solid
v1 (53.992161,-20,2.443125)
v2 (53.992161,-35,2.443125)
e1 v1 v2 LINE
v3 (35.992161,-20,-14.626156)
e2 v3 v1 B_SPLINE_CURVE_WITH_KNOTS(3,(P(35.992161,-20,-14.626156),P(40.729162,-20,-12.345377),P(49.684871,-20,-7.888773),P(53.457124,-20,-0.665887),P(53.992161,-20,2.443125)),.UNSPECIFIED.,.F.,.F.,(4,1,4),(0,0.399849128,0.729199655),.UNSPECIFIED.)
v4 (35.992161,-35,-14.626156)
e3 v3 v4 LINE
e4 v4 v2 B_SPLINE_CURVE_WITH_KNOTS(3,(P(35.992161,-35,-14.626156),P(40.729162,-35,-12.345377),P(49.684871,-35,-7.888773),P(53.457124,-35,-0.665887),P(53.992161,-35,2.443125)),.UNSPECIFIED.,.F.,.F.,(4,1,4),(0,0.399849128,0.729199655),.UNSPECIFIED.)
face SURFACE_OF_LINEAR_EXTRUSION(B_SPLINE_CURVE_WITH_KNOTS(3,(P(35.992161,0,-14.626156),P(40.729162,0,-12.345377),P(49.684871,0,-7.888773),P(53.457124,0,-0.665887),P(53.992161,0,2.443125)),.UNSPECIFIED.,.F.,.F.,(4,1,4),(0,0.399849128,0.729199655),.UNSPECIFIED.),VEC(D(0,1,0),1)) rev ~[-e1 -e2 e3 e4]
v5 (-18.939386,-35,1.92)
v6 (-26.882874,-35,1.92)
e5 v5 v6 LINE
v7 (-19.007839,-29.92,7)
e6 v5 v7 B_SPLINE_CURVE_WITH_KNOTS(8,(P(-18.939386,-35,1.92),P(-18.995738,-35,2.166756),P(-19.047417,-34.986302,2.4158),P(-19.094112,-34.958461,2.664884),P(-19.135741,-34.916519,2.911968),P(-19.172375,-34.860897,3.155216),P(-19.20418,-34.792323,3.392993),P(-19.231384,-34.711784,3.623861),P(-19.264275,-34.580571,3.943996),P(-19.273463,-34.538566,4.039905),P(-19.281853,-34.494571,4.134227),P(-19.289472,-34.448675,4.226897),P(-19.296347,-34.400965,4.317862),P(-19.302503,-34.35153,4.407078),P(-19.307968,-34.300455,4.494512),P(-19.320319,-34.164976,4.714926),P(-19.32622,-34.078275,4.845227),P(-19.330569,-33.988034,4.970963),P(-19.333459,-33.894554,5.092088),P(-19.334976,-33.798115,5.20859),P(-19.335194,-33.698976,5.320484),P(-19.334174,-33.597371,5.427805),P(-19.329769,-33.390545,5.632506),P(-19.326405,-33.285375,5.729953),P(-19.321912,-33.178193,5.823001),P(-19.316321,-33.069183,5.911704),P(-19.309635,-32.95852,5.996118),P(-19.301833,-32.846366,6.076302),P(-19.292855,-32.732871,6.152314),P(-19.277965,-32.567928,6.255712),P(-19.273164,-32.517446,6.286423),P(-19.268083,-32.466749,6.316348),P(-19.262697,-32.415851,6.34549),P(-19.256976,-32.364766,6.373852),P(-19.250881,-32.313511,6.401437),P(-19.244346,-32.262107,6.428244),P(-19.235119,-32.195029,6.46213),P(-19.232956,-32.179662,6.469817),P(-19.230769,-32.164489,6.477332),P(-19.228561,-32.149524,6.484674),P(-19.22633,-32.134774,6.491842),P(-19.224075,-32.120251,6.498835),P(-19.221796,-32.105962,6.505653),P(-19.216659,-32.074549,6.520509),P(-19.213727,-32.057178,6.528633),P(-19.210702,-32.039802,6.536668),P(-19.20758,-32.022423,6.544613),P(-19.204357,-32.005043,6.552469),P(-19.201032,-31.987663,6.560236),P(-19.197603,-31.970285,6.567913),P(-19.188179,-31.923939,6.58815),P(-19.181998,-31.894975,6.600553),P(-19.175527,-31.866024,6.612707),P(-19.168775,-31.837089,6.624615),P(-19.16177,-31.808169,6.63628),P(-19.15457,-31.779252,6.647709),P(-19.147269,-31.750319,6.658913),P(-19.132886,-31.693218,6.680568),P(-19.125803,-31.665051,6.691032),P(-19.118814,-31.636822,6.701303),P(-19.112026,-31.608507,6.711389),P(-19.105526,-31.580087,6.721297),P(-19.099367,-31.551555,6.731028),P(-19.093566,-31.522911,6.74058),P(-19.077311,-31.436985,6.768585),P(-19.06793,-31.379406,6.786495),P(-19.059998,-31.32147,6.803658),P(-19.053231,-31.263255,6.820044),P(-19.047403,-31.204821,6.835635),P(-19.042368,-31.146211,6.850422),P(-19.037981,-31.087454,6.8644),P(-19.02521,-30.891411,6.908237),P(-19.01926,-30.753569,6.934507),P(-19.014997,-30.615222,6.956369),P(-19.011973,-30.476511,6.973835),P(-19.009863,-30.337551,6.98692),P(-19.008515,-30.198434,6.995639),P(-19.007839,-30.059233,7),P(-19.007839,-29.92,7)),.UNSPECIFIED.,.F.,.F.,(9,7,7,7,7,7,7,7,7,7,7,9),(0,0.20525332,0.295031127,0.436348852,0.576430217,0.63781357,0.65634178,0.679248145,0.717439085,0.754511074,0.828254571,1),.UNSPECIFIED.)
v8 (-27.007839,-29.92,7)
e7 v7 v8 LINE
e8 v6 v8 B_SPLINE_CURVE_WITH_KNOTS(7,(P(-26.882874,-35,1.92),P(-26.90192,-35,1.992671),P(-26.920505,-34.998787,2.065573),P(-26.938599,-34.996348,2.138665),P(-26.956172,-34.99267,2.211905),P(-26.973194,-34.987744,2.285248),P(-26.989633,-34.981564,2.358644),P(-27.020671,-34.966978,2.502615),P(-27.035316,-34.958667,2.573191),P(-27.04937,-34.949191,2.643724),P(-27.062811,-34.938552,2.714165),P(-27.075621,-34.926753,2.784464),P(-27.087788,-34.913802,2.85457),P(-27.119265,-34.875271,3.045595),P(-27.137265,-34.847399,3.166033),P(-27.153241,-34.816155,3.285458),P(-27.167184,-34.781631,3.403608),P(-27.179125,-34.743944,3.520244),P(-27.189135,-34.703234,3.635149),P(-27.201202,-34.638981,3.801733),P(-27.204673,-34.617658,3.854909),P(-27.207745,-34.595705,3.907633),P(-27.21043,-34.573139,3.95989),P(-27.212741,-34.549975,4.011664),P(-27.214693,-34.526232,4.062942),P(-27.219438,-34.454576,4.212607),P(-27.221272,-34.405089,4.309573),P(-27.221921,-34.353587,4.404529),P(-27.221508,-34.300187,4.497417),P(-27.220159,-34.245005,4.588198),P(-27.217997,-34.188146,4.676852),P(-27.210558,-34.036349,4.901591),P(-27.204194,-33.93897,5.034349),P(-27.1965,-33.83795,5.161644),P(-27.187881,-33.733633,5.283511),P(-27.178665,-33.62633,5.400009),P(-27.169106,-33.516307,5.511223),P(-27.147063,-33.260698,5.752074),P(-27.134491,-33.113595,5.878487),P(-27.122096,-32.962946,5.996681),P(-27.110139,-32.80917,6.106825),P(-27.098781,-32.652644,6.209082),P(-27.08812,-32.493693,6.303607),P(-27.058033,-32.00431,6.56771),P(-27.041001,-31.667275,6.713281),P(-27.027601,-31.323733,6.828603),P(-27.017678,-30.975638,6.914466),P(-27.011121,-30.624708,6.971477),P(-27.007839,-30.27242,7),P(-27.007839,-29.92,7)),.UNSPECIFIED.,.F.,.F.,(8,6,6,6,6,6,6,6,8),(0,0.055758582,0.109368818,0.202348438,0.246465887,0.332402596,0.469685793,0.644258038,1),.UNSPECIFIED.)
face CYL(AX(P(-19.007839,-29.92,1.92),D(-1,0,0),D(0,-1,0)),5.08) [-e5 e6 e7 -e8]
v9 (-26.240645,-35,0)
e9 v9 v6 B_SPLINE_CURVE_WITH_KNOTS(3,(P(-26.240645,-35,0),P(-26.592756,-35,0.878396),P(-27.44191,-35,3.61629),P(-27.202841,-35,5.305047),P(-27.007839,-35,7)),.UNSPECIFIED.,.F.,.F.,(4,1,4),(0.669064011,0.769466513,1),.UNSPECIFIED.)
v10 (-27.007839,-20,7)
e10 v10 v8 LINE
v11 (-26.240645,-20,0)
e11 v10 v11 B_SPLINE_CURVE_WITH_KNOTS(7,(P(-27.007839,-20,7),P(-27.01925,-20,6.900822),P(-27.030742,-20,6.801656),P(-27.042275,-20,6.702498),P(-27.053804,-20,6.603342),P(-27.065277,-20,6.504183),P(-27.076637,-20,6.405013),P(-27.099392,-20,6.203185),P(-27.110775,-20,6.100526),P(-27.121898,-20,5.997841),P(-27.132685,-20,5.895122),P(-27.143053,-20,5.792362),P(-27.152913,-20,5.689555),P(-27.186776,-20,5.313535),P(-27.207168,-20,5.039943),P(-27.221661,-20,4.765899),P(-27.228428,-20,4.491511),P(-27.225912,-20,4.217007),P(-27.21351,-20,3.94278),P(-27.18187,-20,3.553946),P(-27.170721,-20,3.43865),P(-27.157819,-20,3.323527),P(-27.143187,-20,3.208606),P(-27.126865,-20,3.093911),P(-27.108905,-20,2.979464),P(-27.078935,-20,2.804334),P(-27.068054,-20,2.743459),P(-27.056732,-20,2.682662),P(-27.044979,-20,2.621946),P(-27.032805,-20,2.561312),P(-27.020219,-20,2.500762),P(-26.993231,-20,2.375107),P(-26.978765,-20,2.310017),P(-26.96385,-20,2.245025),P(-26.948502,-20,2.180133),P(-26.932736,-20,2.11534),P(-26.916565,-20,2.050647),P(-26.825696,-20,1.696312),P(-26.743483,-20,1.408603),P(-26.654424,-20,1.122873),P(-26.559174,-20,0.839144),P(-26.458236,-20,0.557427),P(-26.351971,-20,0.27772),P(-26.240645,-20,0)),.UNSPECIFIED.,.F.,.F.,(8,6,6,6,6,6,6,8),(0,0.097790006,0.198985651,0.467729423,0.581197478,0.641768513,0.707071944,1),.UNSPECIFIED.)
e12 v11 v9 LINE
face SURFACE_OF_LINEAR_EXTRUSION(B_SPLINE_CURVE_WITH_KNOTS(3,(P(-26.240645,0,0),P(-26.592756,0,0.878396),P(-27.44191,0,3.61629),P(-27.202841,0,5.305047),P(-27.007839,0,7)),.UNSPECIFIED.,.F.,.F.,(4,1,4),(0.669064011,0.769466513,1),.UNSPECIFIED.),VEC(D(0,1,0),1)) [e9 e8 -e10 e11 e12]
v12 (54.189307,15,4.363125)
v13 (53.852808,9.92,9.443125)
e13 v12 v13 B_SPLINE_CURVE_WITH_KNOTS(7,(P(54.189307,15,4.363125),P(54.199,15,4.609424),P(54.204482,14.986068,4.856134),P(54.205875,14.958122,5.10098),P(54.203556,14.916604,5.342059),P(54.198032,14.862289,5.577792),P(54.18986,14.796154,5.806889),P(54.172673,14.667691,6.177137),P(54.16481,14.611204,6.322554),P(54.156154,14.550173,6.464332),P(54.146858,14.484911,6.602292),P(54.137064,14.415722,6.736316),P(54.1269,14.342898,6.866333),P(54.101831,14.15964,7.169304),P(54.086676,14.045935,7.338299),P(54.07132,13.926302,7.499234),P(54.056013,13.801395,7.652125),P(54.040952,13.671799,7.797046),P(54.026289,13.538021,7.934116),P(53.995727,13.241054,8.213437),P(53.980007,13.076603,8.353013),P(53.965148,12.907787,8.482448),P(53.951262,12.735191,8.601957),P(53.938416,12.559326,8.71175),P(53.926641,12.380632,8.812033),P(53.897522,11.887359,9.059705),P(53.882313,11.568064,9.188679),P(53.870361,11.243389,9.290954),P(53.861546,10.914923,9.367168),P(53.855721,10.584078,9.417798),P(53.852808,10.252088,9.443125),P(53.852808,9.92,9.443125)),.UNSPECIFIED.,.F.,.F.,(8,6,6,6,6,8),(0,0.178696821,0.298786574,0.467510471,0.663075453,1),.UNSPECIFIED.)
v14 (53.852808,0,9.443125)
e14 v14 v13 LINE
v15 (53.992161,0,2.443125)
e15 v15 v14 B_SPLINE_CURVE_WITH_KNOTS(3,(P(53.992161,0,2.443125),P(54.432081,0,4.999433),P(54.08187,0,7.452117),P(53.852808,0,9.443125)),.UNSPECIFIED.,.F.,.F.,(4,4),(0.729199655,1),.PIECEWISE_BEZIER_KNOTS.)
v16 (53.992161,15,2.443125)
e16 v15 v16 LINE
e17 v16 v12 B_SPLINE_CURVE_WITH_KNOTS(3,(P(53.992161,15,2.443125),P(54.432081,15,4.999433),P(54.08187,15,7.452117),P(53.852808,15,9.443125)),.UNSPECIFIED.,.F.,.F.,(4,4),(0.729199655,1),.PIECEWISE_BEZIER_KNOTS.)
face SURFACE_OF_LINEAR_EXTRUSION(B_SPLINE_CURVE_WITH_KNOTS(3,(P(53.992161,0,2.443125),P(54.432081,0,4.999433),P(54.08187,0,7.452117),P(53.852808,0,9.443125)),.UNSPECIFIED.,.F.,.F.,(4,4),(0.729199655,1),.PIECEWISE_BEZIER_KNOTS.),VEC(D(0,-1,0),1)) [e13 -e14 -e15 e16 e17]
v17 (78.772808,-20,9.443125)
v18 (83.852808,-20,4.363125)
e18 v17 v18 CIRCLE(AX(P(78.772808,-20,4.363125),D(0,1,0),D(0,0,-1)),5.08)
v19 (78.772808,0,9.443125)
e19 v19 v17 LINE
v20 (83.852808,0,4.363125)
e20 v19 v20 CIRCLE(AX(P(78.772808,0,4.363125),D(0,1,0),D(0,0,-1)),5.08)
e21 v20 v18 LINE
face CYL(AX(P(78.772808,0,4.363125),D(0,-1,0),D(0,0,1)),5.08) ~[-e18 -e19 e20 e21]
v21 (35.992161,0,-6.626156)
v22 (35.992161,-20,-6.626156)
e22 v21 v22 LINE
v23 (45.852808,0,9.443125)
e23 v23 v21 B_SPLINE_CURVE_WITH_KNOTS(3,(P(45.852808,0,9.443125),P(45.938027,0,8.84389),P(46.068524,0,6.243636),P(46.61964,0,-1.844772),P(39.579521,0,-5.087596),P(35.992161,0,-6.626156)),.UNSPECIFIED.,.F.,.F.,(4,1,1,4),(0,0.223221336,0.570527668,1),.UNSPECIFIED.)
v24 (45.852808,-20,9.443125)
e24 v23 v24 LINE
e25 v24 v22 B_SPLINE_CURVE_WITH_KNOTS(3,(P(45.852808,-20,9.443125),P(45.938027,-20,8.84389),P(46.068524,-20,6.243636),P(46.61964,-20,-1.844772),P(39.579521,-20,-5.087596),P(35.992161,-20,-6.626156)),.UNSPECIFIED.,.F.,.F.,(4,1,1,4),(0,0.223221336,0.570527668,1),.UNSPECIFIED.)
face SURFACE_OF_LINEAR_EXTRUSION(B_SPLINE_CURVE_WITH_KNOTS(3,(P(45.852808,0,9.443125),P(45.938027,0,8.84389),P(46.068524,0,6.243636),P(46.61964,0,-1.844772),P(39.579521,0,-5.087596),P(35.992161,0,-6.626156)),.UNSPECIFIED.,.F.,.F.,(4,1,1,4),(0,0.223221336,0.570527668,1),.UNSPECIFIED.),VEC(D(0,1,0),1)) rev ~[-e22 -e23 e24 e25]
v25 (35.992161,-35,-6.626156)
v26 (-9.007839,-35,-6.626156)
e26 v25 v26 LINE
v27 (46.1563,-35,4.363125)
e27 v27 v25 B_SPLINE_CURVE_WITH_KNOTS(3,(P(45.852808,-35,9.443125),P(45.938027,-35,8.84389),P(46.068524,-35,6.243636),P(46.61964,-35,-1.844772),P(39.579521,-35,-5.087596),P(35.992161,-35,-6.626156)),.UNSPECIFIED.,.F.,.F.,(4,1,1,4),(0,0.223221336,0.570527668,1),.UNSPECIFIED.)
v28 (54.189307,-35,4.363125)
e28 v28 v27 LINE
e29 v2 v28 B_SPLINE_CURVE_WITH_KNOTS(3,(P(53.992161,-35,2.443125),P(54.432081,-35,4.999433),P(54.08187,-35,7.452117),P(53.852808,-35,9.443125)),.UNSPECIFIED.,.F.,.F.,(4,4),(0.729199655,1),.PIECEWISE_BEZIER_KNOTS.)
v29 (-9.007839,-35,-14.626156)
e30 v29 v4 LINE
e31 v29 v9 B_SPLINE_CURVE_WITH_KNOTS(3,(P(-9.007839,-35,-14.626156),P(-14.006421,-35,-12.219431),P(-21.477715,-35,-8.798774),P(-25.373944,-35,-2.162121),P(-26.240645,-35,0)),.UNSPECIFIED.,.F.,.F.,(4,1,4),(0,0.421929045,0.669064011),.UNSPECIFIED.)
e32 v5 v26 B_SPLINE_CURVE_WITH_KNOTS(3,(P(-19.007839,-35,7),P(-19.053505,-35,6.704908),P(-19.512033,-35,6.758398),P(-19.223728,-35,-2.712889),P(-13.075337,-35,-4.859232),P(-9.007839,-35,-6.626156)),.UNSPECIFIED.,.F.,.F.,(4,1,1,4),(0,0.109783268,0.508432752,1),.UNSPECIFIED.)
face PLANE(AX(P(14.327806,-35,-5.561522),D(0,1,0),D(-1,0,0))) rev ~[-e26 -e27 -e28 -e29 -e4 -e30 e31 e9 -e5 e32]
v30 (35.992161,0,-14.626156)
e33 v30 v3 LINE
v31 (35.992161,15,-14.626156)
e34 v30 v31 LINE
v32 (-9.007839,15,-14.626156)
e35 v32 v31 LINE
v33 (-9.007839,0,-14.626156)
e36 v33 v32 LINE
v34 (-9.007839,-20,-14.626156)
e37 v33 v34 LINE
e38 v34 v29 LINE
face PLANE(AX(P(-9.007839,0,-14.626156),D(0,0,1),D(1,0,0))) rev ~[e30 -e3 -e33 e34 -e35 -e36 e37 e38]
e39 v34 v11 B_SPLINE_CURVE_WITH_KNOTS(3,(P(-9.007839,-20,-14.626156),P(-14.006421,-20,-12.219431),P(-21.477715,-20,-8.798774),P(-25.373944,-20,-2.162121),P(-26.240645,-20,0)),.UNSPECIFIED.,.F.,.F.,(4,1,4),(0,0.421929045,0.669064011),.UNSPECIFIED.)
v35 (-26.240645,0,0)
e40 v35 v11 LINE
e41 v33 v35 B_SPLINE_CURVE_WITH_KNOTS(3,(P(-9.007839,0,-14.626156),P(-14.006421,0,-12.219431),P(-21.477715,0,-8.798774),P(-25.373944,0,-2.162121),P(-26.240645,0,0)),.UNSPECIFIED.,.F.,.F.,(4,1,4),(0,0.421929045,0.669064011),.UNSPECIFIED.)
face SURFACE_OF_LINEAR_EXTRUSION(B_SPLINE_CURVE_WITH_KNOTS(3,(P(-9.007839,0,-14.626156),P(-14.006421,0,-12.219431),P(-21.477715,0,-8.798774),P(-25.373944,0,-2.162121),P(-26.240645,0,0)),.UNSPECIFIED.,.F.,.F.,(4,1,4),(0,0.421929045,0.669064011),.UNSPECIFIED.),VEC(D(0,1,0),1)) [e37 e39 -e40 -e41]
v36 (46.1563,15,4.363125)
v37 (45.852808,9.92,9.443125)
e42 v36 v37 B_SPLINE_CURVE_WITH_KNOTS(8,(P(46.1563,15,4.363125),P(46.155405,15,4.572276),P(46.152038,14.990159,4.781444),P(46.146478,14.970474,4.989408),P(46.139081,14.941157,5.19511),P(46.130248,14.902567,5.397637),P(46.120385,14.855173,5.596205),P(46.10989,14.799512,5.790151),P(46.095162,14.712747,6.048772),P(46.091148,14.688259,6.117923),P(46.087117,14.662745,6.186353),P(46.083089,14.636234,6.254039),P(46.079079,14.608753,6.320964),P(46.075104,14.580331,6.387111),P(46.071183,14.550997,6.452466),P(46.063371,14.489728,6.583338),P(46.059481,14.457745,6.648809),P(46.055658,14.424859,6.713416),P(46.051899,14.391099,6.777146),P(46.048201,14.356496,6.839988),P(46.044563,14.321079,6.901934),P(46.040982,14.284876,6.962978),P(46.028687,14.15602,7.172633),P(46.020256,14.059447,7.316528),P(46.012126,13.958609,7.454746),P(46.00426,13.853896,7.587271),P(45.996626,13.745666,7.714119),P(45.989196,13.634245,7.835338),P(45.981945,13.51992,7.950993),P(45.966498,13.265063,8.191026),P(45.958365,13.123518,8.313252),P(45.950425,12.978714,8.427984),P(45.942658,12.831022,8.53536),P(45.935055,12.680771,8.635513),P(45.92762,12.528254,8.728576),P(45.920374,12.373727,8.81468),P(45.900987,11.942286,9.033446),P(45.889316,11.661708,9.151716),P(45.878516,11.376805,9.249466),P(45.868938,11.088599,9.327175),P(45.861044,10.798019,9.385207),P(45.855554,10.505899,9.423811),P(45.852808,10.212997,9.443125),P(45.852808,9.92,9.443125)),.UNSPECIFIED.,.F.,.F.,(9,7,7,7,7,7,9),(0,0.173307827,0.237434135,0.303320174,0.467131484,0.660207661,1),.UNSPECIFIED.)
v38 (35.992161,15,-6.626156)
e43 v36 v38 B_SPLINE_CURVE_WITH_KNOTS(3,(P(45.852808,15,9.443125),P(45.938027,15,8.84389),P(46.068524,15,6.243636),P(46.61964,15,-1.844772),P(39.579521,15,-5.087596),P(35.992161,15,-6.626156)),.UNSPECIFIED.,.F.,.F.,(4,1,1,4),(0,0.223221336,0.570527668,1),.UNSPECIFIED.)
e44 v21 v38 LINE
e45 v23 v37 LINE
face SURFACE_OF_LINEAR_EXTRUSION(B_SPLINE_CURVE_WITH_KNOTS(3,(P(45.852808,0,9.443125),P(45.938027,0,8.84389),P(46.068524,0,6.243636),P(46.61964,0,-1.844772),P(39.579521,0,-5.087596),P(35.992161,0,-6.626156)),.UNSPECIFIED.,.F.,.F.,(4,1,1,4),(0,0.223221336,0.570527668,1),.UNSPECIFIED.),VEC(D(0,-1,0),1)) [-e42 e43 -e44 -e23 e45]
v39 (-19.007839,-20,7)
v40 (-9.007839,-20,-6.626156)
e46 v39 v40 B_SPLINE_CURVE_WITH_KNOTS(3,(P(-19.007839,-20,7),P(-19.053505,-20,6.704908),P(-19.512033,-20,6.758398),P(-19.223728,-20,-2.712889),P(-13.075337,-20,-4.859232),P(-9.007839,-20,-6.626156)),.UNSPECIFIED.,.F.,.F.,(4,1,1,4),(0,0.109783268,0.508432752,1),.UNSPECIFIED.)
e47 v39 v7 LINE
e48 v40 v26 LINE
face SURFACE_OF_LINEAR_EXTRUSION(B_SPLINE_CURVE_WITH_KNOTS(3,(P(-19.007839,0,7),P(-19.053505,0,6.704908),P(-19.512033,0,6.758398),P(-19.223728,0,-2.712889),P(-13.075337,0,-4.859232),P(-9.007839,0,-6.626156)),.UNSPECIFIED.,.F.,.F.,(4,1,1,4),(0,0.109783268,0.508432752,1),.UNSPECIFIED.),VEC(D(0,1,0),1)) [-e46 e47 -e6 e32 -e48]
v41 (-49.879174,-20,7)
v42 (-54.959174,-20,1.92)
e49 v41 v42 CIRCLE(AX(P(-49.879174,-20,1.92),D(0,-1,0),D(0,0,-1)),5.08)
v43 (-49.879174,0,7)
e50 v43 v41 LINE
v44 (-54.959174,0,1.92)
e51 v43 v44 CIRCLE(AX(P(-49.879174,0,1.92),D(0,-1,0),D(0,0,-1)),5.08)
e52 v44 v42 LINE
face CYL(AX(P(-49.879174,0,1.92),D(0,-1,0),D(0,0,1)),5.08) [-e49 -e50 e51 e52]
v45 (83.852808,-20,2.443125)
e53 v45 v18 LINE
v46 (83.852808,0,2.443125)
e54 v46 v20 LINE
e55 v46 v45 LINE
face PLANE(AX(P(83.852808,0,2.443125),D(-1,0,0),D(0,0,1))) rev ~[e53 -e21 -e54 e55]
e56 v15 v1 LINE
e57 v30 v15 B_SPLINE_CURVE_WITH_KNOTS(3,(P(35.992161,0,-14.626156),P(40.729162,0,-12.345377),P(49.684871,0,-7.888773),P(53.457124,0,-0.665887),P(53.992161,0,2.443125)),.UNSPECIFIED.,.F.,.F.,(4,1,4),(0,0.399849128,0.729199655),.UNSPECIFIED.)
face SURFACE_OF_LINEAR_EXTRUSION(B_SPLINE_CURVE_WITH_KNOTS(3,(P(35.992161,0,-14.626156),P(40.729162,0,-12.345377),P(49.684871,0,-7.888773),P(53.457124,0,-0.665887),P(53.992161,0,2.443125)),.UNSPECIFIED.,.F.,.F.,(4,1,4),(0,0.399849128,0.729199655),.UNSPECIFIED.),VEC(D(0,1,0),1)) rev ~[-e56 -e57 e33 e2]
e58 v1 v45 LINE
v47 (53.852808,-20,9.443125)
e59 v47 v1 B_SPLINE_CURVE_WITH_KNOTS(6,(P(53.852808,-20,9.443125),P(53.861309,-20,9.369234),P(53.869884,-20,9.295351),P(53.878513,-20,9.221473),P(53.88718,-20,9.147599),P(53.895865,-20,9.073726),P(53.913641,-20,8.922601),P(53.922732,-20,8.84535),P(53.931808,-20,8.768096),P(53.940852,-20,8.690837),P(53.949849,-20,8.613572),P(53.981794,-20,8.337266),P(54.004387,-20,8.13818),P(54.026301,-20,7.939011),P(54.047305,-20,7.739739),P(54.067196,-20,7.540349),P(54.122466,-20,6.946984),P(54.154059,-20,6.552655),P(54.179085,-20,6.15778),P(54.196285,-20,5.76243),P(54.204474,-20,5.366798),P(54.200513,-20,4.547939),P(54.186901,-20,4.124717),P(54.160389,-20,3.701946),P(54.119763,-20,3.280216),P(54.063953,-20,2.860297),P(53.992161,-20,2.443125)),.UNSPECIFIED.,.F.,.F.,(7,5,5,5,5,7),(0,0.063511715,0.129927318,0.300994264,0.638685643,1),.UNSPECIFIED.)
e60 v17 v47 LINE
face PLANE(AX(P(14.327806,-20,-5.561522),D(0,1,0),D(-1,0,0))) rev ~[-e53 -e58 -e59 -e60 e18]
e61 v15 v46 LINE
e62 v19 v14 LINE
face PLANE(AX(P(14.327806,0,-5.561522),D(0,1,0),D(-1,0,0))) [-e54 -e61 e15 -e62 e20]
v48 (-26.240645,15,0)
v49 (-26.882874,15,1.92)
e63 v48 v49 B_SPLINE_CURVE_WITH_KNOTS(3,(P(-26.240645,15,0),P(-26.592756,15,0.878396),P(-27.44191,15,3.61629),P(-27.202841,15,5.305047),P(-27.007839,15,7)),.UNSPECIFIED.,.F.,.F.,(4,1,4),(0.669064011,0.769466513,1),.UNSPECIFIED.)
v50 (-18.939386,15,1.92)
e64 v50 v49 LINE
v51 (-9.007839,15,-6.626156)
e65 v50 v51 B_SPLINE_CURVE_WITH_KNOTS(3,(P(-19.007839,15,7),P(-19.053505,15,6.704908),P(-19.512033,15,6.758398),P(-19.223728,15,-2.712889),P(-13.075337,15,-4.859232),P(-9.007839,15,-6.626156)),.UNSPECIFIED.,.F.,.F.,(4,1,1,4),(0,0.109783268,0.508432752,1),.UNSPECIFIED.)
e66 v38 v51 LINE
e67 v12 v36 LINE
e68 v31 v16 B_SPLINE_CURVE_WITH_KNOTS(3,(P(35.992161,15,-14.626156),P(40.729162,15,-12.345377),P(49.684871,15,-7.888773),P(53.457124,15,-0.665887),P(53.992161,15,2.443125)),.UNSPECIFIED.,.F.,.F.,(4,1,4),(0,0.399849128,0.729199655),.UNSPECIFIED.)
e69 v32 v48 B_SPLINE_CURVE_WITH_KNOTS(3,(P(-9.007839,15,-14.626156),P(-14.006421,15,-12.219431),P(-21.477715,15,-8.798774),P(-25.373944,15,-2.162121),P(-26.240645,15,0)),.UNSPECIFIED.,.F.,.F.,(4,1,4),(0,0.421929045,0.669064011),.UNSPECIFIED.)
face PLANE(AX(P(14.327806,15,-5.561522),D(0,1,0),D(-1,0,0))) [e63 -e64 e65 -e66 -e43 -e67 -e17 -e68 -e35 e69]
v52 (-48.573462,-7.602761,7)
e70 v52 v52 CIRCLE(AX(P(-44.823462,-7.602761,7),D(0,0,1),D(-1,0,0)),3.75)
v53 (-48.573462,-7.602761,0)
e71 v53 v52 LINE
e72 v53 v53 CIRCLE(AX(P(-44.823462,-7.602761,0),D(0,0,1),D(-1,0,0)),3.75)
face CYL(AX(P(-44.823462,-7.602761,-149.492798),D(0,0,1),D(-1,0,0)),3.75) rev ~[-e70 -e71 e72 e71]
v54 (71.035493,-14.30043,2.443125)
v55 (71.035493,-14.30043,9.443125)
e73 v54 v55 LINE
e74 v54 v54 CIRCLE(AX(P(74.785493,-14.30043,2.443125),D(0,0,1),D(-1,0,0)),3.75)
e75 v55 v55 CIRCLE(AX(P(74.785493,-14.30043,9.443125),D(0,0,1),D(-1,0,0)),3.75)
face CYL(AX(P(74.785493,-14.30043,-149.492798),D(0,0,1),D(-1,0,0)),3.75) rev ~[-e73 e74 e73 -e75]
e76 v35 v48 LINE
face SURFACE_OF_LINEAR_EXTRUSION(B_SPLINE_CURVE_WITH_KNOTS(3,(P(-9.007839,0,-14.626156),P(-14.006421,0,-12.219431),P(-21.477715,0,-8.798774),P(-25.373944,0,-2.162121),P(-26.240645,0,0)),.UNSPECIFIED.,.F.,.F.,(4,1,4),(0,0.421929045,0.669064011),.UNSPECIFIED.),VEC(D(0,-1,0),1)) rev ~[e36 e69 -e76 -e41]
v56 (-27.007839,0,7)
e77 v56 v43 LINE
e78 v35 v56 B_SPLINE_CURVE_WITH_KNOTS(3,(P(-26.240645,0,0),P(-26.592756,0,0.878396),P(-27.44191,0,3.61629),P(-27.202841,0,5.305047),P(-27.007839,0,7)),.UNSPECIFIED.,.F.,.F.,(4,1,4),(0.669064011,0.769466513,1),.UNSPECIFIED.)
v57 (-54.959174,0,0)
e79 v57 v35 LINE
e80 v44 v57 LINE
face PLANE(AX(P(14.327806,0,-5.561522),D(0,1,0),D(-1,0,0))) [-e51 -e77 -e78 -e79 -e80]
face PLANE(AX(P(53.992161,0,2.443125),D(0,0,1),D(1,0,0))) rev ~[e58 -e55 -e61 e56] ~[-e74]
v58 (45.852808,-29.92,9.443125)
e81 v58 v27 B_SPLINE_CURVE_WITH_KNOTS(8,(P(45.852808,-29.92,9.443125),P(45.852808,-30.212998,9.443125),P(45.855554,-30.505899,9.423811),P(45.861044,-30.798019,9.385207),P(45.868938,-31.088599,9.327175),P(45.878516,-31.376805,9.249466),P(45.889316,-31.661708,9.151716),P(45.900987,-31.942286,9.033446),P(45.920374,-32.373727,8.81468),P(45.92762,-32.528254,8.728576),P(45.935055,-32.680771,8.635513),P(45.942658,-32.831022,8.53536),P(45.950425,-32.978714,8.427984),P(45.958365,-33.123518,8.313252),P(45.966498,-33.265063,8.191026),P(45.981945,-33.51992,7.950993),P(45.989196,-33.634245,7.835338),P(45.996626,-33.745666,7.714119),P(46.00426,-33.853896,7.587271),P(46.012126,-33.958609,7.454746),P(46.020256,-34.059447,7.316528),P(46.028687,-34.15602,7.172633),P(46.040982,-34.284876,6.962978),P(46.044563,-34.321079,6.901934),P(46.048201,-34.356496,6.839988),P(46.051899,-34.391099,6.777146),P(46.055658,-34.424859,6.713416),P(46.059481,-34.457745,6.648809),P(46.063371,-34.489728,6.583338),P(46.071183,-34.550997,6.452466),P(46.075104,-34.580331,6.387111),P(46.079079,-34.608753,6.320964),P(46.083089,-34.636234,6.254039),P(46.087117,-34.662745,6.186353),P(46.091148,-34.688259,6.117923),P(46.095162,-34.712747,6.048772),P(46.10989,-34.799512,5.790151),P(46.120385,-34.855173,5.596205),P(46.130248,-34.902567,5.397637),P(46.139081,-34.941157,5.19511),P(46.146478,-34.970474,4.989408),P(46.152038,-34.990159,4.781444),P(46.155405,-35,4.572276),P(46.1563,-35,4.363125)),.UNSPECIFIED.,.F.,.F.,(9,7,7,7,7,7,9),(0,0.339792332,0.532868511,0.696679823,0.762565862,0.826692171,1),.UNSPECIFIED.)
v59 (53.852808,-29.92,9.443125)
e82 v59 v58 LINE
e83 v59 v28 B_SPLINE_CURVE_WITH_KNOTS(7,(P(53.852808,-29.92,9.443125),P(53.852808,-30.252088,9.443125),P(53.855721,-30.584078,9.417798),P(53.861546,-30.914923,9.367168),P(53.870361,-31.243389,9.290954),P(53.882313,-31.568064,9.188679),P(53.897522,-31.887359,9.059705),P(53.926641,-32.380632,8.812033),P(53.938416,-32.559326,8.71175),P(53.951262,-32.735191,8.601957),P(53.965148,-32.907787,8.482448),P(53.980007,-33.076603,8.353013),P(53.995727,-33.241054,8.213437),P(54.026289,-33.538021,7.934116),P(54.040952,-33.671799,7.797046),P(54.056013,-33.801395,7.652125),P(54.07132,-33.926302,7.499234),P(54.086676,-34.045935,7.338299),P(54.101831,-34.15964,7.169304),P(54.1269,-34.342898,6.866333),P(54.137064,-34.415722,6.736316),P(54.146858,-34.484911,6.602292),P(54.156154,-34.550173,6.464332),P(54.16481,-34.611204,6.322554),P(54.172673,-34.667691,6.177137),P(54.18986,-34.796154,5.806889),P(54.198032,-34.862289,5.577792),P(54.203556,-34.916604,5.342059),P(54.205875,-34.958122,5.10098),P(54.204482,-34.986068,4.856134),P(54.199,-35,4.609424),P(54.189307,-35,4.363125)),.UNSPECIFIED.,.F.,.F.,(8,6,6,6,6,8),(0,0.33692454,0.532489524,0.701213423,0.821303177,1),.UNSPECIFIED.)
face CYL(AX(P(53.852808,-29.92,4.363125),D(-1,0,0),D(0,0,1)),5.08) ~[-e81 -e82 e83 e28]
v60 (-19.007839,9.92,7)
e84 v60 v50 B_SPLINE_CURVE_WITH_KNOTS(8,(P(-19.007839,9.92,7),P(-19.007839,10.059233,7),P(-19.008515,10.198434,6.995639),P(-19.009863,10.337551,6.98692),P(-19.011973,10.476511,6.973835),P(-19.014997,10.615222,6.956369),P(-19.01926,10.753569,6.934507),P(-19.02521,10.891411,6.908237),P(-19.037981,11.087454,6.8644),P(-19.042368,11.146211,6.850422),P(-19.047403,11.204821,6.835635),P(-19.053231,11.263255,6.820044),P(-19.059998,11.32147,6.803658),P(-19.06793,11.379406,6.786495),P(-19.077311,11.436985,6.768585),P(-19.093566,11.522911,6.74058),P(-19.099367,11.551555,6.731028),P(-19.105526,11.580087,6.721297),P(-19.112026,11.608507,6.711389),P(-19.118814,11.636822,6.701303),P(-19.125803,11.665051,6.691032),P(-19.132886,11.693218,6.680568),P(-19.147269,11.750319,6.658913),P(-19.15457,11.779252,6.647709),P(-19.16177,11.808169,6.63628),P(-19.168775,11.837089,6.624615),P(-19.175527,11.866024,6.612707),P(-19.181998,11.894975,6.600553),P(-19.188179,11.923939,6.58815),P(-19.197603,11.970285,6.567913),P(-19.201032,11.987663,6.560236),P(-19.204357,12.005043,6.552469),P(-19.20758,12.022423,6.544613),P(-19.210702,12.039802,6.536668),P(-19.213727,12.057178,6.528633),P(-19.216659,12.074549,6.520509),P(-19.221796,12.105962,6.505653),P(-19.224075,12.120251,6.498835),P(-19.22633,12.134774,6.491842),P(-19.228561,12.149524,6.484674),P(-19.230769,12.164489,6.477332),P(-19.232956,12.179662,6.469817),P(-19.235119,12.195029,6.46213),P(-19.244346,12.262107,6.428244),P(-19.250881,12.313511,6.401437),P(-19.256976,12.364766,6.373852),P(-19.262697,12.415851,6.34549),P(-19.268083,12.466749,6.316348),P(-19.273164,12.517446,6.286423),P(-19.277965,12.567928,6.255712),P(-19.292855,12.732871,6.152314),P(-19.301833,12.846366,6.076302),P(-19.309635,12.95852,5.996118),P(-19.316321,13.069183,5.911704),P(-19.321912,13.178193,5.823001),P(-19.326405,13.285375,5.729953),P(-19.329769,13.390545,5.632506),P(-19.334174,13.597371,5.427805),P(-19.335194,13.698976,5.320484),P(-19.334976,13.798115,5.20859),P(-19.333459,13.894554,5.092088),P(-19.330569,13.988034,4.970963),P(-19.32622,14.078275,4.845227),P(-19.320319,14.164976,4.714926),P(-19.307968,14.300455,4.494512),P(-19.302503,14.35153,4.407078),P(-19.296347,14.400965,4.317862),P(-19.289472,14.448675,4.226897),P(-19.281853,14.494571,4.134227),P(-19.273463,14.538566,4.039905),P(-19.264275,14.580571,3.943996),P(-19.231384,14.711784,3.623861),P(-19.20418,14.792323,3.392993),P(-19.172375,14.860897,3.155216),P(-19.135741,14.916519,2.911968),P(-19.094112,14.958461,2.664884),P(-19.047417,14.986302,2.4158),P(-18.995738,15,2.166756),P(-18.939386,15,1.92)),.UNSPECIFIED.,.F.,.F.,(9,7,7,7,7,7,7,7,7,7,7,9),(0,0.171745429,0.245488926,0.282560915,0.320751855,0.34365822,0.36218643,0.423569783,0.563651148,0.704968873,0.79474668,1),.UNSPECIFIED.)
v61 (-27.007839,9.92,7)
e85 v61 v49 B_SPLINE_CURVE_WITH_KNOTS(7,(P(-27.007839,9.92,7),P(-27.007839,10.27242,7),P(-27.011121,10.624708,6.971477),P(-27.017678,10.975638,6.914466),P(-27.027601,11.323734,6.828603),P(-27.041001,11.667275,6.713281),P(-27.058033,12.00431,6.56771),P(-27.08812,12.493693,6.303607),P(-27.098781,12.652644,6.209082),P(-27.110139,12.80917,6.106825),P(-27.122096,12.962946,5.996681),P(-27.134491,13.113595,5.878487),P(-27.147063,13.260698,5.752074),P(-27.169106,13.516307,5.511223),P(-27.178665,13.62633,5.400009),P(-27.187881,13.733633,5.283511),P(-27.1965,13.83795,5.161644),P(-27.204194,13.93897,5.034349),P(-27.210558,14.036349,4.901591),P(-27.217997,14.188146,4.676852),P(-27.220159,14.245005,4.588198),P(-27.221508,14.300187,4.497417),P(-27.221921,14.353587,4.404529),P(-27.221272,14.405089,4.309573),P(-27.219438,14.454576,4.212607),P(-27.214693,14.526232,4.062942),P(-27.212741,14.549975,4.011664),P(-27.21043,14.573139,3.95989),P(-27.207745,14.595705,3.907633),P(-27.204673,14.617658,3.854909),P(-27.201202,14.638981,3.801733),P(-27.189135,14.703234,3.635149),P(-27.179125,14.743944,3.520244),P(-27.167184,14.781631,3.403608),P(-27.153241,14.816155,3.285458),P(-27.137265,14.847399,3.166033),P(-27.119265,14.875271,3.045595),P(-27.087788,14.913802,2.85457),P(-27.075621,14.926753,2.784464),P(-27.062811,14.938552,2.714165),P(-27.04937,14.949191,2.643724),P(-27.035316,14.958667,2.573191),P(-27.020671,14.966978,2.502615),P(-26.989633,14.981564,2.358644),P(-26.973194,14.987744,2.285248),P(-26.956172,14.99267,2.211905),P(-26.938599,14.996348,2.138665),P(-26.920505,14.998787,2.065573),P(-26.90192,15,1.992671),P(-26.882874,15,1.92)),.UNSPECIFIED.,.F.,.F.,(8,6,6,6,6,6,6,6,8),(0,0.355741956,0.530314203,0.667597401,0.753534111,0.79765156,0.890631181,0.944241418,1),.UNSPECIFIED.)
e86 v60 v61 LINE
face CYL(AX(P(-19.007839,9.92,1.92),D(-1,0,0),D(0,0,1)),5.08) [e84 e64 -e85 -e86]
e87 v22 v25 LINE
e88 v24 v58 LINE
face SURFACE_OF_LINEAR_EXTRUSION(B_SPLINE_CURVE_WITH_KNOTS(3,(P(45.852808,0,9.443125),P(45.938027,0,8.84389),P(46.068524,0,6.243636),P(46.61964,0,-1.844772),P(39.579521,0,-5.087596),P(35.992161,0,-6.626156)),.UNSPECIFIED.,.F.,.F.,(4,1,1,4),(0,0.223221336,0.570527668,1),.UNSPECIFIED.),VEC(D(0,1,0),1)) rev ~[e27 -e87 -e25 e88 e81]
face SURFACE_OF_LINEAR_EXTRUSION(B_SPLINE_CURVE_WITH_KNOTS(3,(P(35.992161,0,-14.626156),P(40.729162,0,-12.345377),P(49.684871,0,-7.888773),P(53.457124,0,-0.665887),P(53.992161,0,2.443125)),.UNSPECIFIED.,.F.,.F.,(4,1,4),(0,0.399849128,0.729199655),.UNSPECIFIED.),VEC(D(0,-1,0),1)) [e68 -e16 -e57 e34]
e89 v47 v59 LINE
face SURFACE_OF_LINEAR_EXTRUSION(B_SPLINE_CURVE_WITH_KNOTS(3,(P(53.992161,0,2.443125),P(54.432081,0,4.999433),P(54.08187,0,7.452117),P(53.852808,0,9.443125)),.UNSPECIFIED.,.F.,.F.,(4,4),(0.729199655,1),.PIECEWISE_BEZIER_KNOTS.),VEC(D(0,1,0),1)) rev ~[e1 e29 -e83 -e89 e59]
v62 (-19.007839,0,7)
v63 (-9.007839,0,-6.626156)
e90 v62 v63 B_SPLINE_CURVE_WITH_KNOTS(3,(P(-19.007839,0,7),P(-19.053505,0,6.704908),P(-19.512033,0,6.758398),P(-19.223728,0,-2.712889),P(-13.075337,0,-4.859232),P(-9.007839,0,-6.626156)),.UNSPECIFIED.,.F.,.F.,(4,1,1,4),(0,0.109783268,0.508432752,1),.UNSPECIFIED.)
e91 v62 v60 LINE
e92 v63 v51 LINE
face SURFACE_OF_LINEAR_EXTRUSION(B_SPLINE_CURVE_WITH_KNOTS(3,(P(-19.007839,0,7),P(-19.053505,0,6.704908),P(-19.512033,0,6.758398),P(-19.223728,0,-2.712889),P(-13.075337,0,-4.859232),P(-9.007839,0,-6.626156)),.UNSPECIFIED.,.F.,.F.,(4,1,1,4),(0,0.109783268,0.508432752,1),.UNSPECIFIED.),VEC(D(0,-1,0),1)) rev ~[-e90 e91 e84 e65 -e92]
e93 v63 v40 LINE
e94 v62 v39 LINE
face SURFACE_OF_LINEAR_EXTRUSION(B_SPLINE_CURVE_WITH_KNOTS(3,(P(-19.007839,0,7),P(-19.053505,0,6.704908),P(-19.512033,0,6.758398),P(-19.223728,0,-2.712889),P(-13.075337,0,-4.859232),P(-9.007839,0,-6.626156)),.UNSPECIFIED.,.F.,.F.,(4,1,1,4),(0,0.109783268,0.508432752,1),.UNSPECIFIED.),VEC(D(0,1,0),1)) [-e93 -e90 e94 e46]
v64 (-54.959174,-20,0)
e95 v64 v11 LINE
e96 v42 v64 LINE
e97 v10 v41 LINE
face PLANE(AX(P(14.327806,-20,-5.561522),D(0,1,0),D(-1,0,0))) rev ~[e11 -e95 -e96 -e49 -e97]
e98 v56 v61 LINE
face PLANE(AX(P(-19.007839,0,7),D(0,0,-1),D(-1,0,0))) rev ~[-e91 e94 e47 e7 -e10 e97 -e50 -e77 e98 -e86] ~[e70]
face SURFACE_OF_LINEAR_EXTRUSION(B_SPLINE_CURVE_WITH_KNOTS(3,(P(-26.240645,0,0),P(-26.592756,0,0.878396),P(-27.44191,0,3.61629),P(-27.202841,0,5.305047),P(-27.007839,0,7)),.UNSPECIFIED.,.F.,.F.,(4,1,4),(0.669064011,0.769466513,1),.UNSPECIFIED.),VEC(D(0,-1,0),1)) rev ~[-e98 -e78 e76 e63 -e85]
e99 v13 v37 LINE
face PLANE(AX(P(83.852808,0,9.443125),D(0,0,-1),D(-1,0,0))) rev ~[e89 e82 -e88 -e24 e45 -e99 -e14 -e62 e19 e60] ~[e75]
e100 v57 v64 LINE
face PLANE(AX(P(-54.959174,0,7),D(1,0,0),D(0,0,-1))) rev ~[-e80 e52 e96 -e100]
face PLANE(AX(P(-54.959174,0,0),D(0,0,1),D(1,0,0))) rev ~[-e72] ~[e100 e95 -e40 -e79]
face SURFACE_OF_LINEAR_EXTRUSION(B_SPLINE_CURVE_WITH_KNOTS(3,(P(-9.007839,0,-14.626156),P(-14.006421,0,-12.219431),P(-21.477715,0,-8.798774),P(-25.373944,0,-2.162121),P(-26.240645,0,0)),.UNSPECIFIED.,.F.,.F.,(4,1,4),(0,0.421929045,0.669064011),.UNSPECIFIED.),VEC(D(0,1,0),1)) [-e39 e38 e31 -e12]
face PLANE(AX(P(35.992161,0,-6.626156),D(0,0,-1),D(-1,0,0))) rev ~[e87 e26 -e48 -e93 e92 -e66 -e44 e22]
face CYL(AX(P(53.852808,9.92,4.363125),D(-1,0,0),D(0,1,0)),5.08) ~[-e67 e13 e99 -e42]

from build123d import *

# Parameters (mm, degrees)
F1_DEPTH = 15
F2_DEPTH = 20
F3_DEPTH = 35
F5_R     = 5.08
F6_R     = 5.08
F7_R     = 5.08
F8_R     = 5.08
F9_R     = 5.08
F10_D    = 7.5


with BuildPart() as f1:
    # F0 (on Front) → F1 (new body)
    with BuildSketch(Plane.XZ):
        with BuildLine():
            add(Edge.make_bspline(
                [(-9.0078394144, -14.6261555421), (-14.006421456, -12.219431046), (-21.4777151753, -8.7987738685), (-25.373944364, -2.1621207849), (-26.2406452466, 0)],
                knots=[0, 0, 0, 0, 0.4219290451, 0.6690640109, 0.6690640109, 0.6690640109, 0.6690640109], degree=3))
            Line((-9.0078394144, -14.6261555421), (35.9921605856, -14.6261555421))
            add(Edge.make_bspline(
                [(35.9921605856, -14.6261555421), (40.7291624411, -12.3453770516), (49.6848707909, -7.8887732182), (53.4571237511, -0.6658874553), (53.9921605856, 2.4431246054)],
                knots=[0, 0, 0, 0, 0.3998491278, 0.7291996551, 0.7291996551, 0.7291996551, 0.7291996551], degree=3))
            add(Edge.make_bspline(
                [(53.9921605856, 2.4431246054), (54.4320814217, 4.9994330631), (54.0818703156, 7.4521168259), (53.8528075786, 9.4431246054)],
                knots=[0.7291996551, 0.7291996551, 0.7291996551, 0.7291996551, 1, 1, 1, 1], degree=3))
            Line((53.8528075786, 9.4431246054), (45.8528075786, 9.4431246054))
            add(Edge.make_bspline(
                [(45.8528075786, 9.4431246054), (45.9380271862, 8.8438899514), (46.0685244466, 6.2436364853), (46.6196397936, -1.8447716738), (39.5795212377, -5.0875957452), (35.9921605856, -6.6261555421)],
                knots=[0, 0, 0, 0, 0.2232213361, 0.5705276676, 1, 1, 1, 1], degree=3))
            Line((35.9921605856, -6.6261555421), (-9.0078394144, -6.6261555421))
            add(Edge.make_bspline(
                [(-19.0078394144, 7), (-19.053505059, 6.7049076197), (-19.5120334536, 6.7583982823), (-19.2237277553, -2.712889397), (-13.0753368013, -4.8592315184), (-9.0078394144, -6.6261555421)],
                knots=[0, 0, 0, 0, 0.1097832683, 0.5084327524, 1, 1, 1, 1], degree=3))
            Line((-19.0078394144, 7), (-27.0078394144, 7))
            add(Edge.make_bspline(
                [(-26.2406452466, 0), (-26.592756236, 0.8783958848), (-27.4419103236, 3.6162903723), (-27.2028414979, 5.3050465987), (-27.0078394144, 7)],
                knots=[0.6690640109, 0.6690640109, 0.6690640109, 0.6690640109, 0.7694665132, 1, 1, 1, 1], degree=3))
        make_face()
    extrude(amount=-F1_DEPTH)

    # F0 (on Front) → F2 (join)
    with BuildSketch(Plane.XZ):
        with BuildLine():
            add(Edge.make_bspline(
                [(-9.0078394144, -14.6261555421), (-14.006421456, -12.219431046), (-21.4777151753, -8.7987738685), (-25.373944364, -2.1621207849), (-26.2406452466, 0)],
                knots=[0, 0, 0, 0, 0.4219290451, 0.6690640109, 0.6690640109, 0.6690640109, 0.6690640109], degree=3))
            Line((-9.0078394144, -14.6261555421), (35.9921605856, -14.6261555421))
            add(Edge.make_bspline(
                [(35.9921605856, -14.6261555421), (40.7291624411, -12.3453770516), (49.6848707909, -7.8887732182), (53.4571237511, -0.6658874553), (53.9921605856, 2.4431246054)],
                knots=[0, 0, 0, 0, 0.3998491278, 0.7291996551, 0.7291996551, 0.7291996551, 0.7291996551], degree=3))
            add(Edge.make_bspline(
                [(53.9921605856, 2.4431246054), (54.4320814217, 4.9994330631), (54.0818703156, 7.4521168259), (53.8528075786, 9.4431246054)],
                knots=[0.7291996551, 0.7291996551, 0.7291996551, 0.7291996551, 1, 1, 1, 1], degree=3))
            Line((53.8528075786, 9.4431246054), (45.8528075786, 9.4431246054))
            add(Edge.make_bspline(
                [(45.8528075786, 9.4431246054), (45.9380271862, 8.8438899514), (46.0685244466, 6.2436364853), (46.6196397936, -1.8447716738), (39.5795212377, -5.0875957452), (35.9921605856, -6.6261555421)],
                knots=[0, 0, 0, 0, 0.2232213361, 0.5705276676, 1, 1, 1, 1], degree=3))
            Line((35.9921605856, -6.6261555421), (-9.0078394144, -6.6261555421))
            add(Edge.make_bspline(
                [(-19.0078394144, 7), (-19.053505059, 6.7049076197), (-19.5120334536, 6.7583982823), (-19.2237277553, -2.712889397), (-13.0753368013, -4.8592315184), (-9.0078394144, -6.6261555421)],
                knots=[0, 0, 0, 0, 0.1097832683, 0.5084327524, 1, 1, 1, 1], degree=3))
            Line((-19.0078394144, 7), (-27.0078394144, 7))
            add(Edge.make_bspline(
                [(-26.2406452466, 0), (-26.592756236, 0.8783958848), (-27.4419103236, 3.6162903723), (-27.2028414979, 5.3050465987), (-27.0078394144, 7)],
                knots=[0.6690640109, 0.6690640109, 0.6690640109, 0.6690640109, 0.7694665132, 1, 1, 1, 1], degree=3))
        make_face()
        with BuildLine():
            Line((-54.9591742456, 0), (-26.2406452466, 0))
            add(Edge.make_bspline(
                [(-26.2406452466, 0), (-26.592756236, 0.8783958848), (-27.4419103236, 3.6162903723), (-27.2028414979, 5.3050465987), (-27.0078394144, 7)],
                knots=[0.6690640109, 0.6690640109, 0.6690640109, 0.6690640109, 0.7694665132, 1, 1, 1, 1], degree=3))
            Line((-27.0078394144, 7), (-54.9591742456, 7))
            Line((-54.9591742456, 7), (-54.9591742456, 0))
        make_face()
        with BuildLine():
            add(Edge.make_bspline(
                [(53.9921605856, 2.4431246054), (54.4320814217, 4.9994330631), (54.0818703156, 7.4521168259), (53.8528075786, 9.4431246054)],
                knots=[0.7291996551, 0.7291996551, 0.7291996551, 0.7291996551, 1, 1, 1, 1], degree=3))
            Line((53.9921605856, 2.4431246054), (83.8528075786, 2.4431246054))
            Line((83.8528075786, 2.4431246054), (83.8528075786, 9.4431246054))
            Line((83.8528075786, 9.4431246054), (53.8528075786, 9.4431246054))
        make_face()
    extrude(amount=F2_DEPTH)

    # F0 (on Front) → F3 (join)
    with BuildSketch(Plane.XZ):
        with BuildLine():
            add(Edge.make_bspline(
                [(-9.0078394144, -14.6261555421), (-14.006421456, -12.219431046), (-21.4777151753, -8.7987738685), (-25.373944364, -2.1621207849), (-26.2406452466, 0)],
                knots=[0, 0, 0, 0, 0.4219290451, 0.6690640109, 0.6690640109, 0.6690640109, 0.6690640109], degree=3))
            Line((-9.0078394144, -14.6261555421), (35.9921605856, -14.6261555421))
            add(Edge.make_bspline(
                [(35.9921605856, -14.6261555421), (40.7291624411, -12.3453770516), (49.6848707909, -7.8887732182), (53.4571237511, -0.6658874553), (53.9921605856, 2.4431246054)],
                knots=[0, 0, 0, 0, 0.3998491278, 0.7291996551, 0.7291996551, 0.7291996551, 0.7291996551], degree=3))
            add(Edge.make_bspline(
                [(53.9921605856, 2.4431246054), (54.4320814217, 4.9994330631), (54.0818703156, 7.4521168259), (53.8528075786, 9.4431246054)],
                knots=[0.7291996551, 0.7291996551, 0.7291996551, 0.7291996551, 1, 1, 1, 1], degree=3))
            Line((53.8528075786, 9.4431246054), (45.8528075786, 9.4431246054))
            add(Edge.make_bspline(
                [(45.8528075786, 9.4431246054), (45.9380271862, 8.8438899514), (46.0685244466, 6.2436364853), (46.6196397936, -1.8447716738), (39.5795212377, -5.0875957452), (35.9921605856, -6.6261555421)],
                knots=[0, 0, 0, 0, 0.2232213361, 0.5705276676, 1, 1, 1, 1], degree=3))
            Line((35.9921605856, -6.6261555421), (-9.0078394144, -6.6261555421))
            add(Edge.make_bspline(
                [(-19.0078394144, 7), (-19.053505059, 6.7049076197), (-19.5120334536, 6.7583982823), (-19.2237277553, -2.712889397), (-13.0753368013, -4.8592315184), (-9.0078394144, -6.6261555421)],
                knots=[0, 0, 0, 0, 0.1097832683, 0.5084327524, 1, 1, 1, 1], degree=3))
            Line((-19.0078394144, 7), (-27.0078394144, 7))
            add(Edge.make_bspline(
                [(-26.2406452466, 0), (-26.592756236, 0.8783958848), (-27.4419103236, 3.6162903723), (-27.2028414979, 5.3050465987), (-27.0078394144, 7)],
                knots=[0.6690640109, 0.6690640109, 0.6690640109, 0.6690640109, 0.7694665132, 1, 1, 1, 1], degree=3))
        make_face()
    extrude(amount=F3_DEPTH)

    # F5
    f5_edges = [f1.edges().sort_by_distance(p)[0] for p in [
        (83.852808, -10, 9.443125),
    ]]
    fillet(f5_edges, radius=F5_R)

    # F6
    f6_edges = [f1.edges().sort_by_distance(p)[0] for p in [
        (-54.959174, -10, 7),
        (49.852808, -35, 9.443125),
    ]]
    fillet(f6_edges, radius=F6_R)

    # F7
    f7_edges = [f1.edges().sort_by_distance(p)[0] for p in [
        (-23.007839, -35, 7),
    ]]
    fillet(f7_edges, radius=F7_R)

    # F8
    f8_edges = [f1.edges().sort_by_distance(p)[0] for p in [
        (-23.007839, 15, 7),
    ]]
    fillet(f8_edges, radius=F8_R)

    # F9
    f9_edges = [f1.edges().sort_by_distance(p)[0] for p in [
        (49.852808, 15, 9.443125),
    ]]
    fillet(f9_edges, radius=F9_R)

    # F10 (through all)
    with Locations(Plane(origin=(0, 0, 0), x_dir=(1, 0, 0), z_dir=(0, 0, -1))):
        with Locations((-44.82346192, 7.6027605683), (74.7854933143, 14.3004301935)):
            Hole(F10_D / 2)


solid = f1.part
